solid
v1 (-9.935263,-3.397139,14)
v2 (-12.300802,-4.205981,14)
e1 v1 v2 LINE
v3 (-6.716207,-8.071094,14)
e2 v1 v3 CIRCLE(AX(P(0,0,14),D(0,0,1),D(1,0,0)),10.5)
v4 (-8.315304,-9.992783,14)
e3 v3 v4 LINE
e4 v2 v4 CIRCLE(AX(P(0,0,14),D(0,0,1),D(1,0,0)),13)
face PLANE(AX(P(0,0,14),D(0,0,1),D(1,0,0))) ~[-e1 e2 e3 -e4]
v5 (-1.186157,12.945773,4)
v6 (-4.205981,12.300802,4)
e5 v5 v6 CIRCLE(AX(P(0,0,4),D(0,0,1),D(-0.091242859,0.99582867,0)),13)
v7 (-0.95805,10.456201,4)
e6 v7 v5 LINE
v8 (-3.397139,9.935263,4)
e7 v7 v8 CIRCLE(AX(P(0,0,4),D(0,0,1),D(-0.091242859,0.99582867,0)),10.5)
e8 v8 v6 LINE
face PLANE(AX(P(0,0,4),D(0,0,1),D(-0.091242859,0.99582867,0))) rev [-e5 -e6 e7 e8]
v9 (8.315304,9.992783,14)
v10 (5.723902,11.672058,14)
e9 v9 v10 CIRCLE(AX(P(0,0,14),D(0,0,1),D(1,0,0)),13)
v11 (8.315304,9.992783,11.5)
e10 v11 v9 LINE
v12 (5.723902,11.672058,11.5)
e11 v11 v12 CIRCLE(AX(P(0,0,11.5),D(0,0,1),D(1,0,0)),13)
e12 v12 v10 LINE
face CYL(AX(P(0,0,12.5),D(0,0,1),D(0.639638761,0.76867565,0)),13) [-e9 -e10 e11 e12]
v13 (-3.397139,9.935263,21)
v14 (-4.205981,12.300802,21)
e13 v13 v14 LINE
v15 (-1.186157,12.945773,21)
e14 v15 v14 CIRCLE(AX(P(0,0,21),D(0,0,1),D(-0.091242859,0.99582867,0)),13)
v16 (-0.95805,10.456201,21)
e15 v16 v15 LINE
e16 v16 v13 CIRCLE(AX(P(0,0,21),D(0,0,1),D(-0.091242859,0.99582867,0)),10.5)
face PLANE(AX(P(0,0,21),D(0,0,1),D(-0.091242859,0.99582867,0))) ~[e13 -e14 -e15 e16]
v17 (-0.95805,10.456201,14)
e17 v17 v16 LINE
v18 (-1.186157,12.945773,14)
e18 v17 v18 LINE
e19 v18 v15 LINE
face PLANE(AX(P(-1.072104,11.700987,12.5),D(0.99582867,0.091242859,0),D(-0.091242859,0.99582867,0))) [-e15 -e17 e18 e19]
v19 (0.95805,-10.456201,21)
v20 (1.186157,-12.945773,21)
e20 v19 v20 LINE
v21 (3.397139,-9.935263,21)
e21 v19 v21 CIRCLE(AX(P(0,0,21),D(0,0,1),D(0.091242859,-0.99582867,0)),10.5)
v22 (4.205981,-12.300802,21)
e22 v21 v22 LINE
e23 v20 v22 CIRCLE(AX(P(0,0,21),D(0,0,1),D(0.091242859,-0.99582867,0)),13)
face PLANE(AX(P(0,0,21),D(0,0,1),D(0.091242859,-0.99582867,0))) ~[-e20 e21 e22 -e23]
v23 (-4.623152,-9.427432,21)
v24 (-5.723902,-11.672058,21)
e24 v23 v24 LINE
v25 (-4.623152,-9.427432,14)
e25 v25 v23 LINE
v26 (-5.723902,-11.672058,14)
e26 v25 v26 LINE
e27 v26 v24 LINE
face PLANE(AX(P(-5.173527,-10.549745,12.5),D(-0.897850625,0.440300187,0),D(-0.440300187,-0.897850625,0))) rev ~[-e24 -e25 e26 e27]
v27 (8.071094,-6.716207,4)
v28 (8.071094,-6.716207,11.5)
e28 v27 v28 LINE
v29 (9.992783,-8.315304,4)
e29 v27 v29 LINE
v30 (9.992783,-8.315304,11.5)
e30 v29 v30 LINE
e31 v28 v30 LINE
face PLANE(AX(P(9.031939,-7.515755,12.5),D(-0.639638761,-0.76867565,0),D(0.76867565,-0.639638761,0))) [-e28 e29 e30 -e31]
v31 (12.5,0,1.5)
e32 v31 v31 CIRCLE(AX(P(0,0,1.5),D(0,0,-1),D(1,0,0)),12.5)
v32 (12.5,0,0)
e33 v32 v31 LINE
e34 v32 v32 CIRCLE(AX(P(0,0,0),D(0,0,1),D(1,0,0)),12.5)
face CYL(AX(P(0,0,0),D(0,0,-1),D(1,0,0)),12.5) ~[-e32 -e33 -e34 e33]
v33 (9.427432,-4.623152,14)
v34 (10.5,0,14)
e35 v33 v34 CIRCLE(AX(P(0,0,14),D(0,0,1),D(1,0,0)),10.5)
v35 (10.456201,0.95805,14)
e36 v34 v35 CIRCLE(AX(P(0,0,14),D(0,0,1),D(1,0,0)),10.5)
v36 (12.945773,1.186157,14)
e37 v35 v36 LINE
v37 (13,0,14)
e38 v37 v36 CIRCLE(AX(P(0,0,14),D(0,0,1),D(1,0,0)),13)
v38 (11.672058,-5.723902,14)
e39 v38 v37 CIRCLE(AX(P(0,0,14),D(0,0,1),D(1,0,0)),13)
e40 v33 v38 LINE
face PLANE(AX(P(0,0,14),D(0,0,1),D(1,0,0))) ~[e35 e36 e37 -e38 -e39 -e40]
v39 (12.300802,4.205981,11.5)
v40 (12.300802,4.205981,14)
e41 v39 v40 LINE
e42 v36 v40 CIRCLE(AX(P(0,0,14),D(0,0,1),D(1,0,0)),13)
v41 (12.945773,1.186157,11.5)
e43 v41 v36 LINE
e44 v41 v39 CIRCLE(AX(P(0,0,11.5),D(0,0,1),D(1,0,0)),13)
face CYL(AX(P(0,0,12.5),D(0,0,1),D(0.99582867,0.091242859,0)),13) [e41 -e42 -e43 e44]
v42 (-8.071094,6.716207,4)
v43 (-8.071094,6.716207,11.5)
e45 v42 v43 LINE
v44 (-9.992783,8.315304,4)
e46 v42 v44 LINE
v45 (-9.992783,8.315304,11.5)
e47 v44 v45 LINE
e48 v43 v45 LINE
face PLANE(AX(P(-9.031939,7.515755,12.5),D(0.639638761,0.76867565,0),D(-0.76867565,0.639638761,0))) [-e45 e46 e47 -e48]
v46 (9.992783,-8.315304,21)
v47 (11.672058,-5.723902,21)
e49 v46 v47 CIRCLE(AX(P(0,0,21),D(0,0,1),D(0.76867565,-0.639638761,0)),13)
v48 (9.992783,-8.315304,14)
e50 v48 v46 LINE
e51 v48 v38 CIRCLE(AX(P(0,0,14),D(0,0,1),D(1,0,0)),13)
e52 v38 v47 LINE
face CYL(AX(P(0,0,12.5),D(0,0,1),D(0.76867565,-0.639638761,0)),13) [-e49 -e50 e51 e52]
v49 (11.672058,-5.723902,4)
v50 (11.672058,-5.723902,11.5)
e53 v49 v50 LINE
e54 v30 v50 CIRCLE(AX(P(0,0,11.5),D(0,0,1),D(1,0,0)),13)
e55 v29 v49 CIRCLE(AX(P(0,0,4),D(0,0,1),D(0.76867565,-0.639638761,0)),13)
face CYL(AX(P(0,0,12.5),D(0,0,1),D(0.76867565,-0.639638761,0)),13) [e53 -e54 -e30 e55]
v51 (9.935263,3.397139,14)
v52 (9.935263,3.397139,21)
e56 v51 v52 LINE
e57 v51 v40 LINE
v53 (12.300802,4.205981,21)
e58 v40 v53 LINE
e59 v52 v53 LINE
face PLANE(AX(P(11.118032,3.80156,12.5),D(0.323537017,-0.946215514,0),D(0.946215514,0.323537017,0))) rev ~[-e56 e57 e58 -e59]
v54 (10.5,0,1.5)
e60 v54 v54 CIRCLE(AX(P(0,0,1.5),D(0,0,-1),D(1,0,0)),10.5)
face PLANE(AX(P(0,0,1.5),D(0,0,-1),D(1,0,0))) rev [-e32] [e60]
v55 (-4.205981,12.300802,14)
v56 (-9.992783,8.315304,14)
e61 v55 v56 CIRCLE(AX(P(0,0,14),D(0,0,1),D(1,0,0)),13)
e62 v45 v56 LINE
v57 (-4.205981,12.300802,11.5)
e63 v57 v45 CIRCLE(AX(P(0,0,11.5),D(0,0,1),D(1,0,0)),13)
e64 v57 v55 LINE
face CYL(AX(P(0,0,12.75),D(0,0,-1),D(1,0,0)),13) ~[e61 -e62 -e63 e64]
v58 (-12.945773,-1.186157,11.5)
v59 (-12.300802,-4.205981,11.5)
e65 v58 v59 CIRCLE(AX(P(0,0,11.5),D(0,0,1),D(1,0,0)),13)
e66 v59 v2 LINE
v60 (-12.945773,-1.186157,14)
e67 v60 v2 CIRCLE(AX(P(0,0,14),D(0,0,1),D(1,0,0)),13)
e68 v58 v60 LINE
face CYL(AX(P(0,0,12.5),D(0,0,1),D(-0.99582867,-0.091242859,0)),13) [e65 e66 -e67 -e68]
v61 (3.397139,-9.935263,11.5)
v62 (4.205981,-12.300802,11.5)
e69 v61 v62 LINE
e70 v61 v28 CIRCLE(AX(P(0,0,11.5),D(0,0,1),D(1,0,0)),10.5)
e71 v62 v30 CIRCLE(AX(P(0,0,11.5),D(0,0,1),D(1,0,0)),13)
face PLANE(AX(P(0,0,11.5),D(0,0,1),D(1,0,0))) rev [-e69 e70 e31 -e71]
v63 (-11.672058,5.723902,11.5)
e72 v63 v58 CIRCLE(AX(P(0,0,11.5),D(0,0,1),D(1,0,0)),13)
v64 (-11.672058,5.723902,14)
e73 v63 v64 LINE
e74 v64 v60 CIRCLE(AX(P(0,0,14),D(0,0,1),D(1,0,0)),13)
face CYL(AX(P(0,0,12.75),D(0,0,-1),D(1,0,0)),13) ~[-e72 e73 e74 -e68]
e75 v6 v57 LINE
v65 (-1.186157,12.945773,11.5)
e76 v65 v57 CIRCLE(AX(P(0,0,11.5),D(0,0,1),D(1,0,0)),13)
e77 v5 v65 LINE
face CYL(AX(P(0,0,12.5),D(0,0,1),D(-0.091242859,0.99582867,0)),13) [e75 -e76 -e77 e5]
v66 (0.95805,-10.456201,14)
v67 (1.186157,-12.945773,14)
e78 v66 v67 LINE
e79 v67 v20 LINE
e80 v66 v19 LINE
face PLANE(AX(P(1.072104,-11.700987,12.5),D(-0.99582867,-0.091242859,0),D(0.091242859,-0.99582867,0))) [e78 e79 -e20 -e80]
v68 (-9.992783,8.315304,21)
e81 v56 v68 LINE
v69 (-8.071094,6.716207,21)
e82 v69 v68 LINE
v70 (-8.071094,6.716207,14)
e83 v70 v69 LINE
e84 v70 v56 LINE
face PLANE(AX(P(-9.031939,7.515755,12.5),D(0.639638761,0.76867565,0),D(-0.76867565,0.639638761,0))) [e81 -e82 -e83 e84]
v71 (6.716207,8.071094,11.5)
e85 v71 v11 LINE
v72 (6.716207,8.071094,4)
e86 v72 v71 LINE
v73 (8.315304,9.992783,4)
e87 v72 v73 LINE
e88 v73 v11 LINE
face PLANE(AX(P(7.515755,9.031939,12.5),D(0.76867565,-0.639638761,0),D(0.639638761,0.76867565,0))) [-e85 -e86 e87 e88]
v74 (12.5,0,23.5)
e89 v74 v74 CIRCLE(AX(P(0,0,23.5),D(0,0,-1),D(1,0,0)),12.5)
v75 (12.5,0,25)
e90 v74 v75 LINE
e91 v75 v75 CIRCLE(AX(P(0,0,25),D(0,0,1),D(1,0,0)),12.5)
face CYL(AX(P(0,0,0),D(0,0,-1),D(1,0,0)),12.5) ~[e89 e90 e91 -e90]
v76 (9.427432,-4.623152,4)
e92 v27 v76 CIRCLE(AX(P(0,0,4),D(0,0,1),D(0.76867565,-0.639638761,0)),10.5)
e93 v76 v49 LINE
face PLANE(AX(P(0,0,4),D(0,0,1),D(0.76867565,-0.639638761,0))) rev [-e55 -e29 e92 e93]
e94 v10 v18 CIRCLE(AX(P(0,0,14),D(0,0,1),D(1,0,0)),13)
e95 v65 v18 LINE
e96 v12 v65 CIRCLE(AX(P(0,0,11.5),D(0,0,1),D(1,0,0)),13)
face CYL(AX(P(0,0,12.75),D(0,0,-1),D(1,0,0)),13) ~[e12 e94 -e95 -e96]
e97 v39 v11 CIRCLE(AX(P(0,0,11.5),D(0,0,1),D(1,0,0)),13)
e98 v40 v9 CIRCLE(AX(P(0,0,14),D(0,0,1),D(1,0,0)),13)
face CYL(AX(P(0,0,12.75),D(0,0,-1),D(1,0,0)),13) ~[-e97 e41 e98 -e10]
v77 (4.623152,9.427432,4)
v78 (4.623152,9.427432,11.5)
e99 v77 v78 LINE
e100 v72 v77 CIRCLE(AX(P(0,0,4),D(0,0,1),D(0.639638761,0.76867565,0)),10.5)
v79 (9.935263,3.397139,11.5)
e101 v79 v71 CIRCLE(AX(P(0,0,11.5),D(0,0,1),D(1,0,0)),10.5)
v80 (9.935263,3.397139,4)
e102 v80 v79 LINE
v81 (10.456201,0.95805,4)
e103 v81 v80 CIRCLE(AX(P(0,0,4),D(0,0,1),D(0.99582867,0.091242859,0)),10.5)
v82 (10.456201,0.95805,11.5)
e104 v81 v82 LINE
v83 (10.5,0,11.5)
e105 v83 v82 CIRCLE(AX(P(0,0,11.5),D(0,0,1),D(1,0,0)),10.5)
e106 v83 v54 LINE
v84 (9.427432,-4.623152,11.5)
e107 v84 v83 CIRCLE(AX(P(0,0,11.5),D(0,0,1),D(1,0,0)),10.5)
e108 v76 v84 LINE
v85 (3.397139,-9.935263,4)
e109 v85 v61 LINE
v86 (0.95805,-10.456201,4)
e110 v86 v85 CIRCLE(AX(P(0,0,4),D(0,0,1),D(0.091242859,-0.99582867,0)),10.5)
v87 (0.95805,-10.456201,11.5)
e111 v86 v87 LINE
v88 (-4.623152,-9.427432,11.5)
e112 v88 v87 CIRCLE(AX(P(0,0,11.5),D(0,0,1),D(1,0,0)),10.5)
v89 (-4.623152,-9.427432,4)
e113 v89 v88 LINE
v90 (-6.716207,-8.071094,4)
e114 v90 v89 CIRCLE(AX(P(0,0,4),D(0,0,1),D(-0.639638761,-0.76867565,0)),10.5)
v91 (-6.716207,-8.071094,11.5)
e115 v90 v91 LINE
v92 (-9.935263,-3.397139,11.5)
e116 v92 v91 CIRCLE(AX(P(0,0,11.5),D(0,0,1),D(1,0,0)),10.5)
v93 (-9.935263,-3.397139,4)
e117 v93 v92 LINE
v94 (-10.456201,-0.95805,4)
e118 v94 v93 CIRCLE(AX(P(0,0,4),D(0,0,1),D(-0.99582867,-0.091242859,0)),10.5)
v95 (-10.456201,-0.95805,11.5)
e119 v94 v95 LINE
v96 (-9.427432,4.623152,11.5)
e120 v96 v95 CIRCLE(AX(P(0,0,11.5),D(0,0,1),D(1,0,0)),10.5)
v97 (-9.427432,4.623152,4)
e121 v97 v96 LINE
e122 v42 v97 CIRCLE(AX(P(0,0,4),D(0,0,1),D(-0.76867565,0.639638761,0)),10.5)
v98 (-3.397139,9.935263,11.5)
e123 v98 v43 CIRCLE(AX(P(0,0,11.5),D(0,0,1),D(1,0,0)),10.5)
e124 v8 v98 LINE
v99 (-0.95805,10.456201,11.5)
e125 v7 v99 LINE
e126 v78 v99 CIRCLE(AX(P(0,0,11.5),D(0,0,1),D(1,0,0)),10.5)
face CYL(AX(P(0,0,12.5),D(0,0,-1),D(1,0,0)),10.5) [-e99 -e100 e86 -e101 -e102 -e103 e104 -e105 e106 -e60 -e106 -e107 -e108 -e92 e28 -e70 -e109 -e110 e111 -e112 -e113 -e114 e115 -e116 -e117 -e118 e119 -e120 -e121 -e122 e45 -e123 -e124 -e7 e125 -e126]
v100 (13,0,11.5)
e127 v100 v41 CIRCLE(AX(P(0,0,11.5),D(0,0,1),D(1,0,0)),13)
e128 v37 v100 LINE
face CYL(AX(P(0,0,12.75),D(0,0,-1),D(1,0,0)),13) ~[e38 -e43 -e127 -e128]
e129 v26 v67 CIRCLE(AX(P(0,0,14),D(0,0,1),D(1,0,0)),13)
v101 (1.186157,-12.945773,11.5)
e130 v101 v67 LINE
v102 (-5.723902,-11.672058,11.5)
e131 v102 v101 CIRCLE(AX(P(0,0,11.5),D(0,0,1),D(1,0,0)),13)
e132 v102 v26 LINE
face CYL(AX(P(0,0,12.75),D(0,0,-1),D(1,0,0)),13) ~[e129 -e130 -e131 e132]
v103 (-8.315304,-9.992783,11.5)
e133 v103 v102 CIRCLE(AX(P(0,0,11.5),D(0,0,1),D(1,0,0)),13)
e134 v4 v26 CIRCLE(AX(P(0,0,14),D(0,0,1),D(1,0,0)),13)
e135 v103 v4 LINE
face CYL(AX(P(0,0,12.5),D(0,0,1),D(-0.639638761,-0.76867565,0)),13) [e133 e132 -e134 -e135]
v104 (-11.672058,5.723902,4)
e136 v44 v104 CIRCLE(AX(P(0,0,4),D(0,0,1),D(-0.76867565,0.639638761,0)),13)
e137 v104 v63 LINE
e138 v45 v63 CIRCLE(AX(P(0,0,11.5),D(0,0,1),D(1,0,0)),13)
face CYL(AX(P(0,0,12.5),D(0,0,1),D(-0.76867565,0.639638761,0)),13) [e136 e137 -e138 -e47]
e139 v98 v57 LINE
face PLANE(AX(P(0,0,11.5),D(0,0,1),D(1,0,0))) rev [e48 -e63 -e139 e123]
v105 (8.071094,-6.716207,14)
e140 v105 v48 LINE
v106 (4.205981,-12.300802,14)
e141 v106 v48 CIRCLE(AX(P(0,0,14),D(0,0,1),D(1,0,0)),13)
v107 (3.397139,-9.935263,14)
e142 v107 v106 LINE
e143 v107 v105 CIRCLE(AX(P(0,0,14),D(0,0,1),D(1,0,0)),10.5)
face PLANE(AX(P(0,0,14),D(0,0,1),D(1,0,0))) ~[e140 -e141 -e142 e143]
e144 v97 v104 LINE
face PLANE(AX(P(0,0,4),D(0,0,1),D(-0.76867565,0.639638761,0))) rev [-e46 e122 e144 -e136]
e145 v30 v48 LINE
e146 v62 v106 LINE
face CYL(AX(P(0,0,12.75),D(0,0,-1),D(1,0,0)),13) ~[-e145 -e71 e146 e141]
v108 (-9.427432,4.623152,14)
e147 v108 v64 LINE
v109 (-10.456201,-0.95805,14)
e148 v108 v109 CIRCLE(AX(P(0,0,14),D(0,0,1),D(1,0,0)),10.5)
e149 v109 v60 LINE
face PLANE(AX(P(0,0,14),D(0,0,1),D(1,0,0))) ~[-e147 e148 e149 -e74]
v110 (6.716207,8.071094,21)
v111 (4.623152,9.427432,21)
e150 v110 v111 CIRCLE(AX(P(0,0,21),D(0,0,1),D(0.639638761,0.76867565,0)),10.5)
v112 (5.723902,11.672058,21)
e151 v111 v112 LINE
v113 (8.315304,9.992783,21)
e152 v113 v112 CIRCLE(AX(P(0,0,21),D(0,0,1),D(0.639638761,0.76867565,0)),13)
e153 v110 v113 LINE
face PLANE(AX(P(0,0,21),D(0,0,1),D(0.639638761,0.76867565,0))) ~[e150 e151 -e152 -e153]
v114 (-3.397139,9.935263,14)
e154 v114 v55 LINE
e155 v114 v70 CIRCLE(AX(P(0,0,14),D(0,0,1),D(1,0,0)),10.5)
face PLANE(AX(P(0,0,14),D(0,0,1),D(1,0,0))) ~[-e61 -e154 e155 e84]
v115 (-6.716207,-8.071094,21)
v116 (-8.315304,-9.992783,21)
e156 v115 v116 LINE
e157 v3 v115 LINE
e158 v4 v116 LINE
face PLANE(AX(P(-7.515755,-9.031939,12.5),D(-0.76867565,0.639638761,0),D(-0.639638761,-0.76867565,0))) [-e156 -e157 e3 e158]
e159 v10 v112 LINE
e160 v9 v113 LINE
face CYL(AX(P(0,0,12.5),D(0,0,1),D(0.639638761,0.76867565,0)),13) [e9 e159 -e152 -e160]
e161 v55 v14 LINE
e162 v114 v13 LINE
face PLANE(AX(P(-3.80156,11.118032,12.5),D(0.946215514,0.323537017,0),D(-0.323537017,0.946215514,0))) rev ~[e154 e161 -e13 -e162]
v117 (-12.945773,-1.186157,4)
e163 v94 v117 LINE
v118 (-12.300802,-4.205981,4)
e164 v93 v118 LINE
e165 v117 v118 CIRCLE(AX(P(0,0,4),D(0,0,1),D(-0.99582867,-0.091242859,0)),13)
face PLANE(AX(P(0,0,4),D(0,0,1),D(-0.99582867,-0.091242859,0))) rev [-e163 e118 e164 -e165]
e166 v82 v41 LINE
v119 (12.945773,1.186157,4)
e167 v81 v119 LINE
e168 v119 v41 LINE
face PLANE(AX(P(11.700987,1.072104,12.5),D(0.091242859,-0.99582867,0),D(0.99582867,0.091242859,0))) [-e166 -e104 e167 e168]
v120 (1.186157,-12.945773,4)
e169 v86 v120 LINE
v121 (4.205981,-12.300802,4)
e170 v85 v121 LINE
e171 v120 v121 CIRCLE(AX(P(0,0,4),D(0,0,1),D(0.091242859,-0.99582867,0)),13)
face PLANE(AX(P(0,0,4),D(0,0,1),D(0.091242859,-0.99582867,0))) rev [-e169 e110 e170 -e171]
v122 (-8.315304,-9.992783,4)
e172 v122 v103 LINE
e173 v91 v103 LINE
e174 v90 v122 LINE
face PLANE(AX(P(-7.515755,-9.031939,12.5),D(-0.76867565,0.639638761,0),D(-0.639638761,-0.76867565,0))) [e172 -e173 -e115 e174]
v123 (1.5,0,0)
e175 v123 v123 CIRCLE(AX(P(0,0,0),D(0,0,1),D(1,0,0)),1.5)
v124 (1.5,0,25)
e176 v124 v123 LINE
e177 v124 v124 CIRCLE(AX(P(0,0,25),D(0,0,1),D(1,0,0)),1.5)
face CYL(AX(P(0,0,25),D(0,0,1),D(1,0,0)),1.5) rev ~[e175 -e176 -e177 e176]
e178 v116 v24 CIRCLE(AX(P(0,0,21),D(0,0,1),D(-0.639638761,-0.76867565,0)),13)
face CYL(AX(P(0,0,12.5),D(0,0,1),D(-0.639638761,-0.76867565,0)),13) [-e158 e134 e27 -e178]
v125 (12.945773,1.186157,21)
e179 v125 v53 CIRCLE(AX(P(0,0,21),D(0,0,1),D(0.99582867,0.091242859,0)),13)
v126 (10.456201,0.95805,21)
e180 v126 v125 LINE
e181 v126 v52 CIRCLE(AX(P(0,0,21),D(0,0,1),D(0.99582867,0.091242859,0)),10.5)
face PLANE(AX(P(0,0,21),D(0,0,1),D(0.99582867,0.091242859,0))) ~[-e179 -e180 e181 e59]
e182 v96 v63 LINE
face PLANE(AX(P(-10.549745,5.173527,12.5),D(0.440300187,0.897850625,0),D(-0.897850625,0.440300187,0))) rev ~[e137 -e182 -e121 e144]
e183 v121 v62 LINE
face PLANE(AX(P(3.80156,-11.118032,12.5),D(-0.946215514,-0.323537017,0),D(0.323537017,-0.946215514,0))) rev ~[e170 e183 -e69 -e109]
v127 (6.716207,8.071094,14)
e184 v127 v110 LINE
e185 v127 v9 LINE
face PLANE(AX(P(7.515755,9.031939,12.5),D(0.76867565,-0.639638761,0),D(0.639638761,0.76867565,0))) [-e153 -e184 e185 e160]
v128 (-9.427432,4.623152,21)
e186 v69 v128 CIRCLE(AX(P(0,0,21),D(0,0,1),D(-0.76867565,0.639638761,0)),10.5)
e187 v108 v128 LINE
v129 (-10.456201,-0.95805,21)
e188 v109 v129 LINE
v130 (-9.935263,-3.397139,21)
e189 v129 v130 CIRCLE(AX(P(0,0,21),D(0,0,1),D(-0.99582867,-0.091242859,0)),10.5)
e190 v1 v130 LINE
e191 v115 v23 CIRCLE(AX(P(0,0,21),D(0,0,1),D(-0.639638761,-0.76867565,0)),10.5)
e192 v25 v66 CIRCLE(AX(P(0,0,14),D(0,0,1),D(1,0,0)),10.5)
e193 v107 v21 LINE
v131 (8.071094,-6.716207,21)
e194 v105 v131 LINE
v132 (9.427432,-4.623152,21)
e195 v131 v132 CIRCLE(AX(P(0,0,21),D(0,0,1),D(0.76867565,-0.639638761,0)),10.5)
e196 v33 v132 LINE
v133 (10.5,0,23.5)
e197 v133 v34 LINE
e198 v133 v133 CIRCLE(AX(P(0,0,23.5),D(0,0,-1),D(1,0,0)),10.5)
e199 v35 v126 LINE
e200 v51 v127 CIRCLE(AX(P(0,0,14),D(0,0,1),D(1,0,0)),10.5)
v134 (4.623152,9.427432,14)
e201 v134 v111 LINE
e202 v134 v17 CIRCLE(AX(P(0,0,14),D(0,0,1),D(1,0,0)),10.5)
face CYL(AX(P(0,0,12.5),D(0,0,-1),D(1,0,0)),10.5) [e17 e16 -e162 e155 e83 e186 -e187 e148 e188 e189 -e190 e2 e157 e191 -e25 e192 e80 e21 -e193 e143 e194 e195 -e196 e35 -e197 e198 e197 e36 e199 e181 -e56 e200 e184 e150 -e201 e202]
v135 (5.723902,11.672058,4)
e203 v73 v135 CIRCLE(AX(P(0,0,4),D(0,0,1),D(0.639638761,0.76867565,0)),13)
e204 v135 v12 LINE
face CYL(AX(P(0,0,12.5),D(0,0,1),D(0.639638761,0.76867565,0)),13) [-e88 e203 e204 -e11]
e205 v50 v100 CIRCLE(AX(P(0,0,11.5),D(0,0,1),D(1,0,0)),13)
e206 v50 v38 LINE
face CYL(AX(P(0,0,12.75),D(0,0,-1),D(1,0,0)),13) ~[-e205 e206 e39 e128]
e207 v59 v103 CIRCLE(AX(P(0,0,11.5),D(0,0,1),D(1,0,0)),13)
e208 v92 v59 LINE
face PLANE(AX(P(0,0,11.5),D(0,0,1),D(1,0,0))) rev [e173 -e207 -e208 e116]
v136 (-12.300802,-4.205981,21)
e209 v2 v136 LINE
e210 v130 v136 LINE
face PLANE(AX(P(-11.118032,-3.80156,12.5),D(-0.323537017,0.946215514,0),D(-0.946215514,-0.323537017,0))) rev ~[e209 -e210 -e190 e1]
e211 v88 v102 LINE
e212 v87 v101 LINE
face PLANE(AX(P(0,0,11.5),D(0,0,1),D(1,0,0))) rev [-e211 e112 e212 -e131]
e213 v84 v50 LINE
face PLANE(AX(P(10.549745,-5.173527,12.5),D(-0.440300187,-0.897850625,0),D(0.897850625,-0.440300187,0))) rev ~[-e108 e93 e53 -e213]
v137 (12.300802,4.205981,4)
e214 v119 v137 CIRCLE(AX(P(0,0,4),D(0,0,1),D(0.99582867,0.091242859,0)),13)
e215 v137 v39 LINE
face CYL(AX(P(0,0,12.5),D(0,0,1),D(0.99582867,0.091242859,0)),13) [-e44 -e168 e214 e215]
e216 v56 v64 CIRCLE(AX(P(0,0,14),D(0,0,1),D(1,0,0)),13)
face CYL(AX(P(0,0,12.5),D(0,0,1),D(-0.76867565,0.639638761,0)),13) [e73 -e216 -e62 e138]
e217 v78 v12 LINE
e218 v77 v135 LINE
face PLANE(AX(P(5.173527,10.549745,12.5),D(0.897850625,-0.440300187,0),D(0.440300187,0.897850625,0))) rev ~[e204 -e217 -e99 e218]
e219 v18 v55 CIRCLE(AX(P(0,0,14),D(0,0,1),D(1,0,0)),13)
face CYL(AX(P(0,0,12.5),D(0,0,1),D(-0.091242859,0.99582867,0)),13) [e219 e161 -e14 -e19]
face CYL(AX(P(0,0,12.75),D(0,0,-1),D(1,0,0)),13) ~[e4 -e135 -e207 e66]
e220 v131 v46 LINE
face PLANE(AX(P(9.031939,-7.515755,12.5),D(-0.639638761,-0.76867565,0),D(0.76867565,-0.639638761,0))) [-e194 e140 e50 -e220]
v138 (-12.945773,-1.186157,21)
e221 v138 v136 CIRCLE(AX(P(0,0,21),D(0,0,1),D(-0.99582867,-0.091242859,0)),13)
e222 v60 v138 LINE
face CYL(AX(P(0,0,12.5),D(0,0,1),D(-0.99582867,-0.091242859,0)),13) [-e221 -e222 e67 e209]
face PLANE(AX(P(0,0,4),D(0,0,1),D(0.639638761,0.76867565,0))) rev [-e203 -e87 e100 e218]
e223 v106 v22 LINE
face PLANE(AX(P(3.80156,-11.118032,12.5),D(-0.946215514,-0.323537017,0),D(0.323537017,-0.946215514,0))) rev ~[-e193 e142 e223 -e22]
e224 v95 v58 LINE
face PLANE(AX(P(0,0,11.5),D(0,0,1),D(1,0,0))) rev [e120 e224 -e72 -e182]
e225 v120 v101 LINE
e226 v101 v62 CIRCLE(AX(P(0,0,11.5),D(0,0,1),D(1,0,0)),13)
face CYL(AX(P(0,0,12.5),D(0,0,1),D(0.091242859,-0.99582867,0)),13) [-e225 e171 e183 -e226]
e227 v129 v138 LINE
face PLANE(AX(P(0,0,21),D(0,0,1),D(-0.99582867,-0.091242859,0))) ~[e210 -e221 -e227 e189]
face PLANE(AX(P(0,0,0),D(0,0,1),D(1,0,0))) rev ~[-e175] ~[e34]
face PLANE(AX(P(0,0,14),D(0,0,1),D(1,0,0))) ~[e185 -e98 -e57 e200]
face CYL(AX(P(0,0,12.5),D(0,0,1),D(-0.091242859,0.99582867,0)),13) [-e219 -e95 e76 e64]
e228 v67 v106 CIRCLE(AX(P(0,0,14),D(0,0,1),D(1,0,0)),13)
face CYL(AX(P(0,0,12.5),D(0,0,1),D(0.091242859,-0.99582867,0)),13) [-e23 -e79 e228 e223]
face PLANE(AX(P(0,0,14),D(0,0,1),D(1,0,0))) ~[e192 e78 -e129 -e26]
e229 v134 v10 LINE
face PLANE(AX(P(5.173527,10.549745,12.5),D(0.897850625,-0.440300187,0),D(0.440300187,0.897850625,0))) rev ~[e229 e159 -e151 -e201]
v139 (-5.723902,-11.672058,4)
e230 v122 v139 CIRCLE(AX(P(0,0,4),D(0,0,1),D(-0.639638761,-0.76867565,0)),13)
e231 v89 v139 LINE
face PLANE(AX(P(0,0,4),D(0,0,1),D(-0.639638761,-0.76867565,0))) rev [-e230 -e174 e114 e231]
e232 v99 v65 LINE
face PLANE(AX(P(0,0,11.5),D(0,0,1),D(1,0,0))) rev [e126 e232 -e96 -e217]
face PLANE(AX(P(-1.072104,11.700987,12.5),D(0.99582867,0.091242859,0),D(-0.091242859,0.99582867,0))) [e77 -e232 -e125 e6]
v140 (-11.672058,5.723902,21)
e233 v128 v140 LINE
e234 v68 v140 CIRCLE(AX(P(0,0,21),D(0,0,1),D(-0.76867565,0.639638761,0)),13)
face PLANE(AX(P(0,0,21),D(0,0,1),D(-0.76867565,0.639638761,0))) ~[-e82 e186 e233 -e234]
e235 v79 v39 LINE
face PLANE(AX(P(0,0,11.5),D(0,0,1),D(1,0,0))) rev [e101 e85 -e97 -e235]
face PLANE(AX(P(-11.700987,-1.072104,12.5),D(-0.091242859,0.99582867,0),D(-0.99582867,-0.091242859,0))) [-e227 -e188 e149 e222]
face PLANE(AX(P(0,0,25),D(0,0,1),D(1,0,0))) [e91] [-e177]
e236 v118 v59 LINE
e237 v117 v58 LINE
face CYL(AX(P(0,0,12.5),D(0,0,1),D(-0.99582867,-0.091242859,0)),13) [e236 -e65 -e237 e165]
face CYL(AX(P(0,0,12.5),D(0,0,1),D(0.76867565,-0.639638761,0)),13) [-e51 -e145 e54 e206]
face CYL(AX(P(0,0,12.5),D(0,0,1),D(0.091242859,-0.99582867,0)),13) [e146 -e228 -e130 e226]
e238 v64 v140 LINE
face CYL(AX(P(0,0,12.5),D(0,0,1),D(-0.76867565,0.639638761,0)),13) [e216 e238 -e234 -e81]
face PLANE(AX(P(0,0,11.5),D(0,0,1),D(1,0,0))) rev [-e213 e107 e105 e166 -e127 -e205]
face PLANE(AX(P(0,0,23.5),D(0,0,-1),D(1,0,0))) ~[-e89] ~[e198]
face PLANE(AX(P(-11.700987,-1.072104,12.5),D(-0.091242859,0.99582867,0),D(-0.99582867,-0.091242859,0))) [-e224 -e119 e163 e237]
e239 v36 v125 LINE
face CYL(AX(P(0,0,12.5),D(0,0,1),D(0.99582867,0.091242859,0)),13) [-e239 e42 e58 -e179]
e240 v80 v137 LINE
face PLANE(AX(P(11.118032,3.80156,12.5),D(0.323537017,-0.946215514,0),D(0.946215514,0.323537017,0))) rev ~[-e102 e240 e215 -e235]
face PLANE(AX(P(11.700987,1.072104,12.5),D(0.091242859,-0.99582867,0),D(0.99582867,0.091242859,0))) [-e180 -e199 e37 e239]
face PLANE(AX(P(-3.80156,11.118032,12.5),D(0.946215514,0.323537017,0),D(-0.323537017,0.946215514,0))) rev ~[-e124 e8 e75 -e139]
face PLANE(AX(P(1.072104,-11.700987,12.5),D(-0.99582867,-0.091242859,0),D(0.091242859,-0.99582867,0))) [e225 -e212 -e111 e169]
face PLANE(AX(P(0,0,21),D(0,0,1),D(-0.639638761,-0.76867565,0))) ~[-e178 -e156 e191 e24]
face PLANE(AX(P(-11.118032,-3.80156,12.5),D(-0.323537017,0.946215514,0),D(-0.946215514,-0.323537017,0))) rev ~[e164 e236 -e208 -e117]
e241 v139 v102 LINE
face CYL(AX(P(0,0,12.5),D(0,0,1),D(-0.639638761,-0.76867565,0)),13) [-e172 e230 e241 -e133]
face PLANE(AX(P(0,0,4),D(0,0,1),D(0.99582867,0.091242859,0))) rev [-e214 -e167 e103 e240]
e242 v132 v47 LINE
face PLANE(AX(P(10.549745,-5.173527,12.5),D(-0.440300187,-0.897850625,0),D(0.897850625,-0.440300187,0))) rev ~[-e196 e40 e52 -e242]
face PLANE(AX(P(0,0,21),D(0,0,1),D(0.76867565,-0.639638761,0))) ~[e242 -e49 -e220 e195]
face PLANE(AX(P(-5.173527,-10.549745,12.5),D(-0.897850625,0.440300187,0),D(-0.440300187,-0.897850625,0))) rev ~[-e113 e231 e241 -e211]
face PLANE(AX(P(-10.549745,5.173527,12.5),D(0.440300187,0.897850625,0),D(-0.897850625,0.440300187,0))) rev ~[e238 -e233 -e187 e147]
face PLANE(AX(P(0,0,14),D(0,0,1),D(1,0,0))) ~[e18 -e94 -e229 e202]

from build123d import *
from build123d.topology import SkipClean

# Parameters (mm, degrees)
CROQUIS1_R              = 12.5
SALIENTE_EXTRUIR1_DEPTH = 25
CROQUIS2_W              = 22
CROQUIS2_H              = 2
CROQUIS3_R              = 1.5
CORTAR_EXTRUIR1_DEPTH   = 25
ENVOLVER1_SECTION_W     = 2.5
ENVOLVER1_SECTION_H     = 17
ENVOLVER1_ANGLE         = 13.641852265
MATRIZC1_COUNT          = 8
CROQUIS5_W              = 2.5
CROQUIS5_H              = 2.5


with BuildPart() as part:
    # Croquis1 → Saliente-Extruir1 (new body)
    with BuildSketch(Plane.XY):
        Circle(CROQUIS1_R)
    extrude(amount=SALIENTE_EXTRUIR1_DEPTH)

    # Croquis2 → Cortar-Revolución1 (revolve, cut)
    with BuildSketch(Plane(origin=(0, 0, 0), x_dir=(0, 0, -1), z_dir=(1, 0, 0)), mode=Mode.PRIVATE) as cortar_revoluci_n1_sk:
        with Locations((-12.5, 11.5)):
            Rectangle(CROQUIS2_W, CROQUIS2_H)
    revolve(cortar_revoluci_n1_sk.sketch.rotate(Axis((0, 0, 31.879564167), (0, 0, -1)), 90), axis=Axis((0, 0, 31.879564167), (0, 0, -1)), mode=Mode.SUBTRACT)

    # Croquis3 → Cortar-Extruir1 (cut)
    with BuildSketch(Plane.XY.offset(25)):
        Circle(CROQUIS3_R)
    extrude(amount=-CORTAR_EXTRUIR1_DEPTH, mode=Mode.SUBTRACT)

    # Envolver1 section (on wrap section) → Envolver1 (revolve)
    with BuildSketch(Plane(origin=(0, 0, 1.5), x_dir=(0.9958286703068172, 0.09124285941900567, 0), z_dir=(0.09124285941900567, -0.9958286703068172, 0))):
        with Locations((11.75, 11)):
            Rectangle(ENVOLVER1_SECTION_W, ENVOLVER1_SECTION_H)
    envolver1 = revolve(axis=Axis((0, 0, 1.5), (0, 0, 1)), revolution_arc=ENVOLVER1_ANGLE)

    # MatrizC1: Envolver1 ×8 about axis
    matrizc1_axis = Axis((0, 0, 0), (0, 0, 1))
    for i in range(1, MATRIZC1_COUNT):
        add(envolver1.rotate(matrizc1_axis, i * 360 / MATRIZC1_COUNT))

    # Croquis5 → Revolución1 (revolve)
    with SkipClean():  # the faces are left unmerged after this step: merging them gives an invalid solid
        with BuildSketch(Plane(origin=(0, 0, 0), x_dir=(1, 0, 0), z_dir=(0, 1, 0))):
            with Locations((11.75, -12.75)):
                Rectangle(CROQUIS5_W, CROQUIS5_H)
        revolve(axis=Axis((0, 0, -6.443168791), (0, 0, 1)))


solid = part.part
